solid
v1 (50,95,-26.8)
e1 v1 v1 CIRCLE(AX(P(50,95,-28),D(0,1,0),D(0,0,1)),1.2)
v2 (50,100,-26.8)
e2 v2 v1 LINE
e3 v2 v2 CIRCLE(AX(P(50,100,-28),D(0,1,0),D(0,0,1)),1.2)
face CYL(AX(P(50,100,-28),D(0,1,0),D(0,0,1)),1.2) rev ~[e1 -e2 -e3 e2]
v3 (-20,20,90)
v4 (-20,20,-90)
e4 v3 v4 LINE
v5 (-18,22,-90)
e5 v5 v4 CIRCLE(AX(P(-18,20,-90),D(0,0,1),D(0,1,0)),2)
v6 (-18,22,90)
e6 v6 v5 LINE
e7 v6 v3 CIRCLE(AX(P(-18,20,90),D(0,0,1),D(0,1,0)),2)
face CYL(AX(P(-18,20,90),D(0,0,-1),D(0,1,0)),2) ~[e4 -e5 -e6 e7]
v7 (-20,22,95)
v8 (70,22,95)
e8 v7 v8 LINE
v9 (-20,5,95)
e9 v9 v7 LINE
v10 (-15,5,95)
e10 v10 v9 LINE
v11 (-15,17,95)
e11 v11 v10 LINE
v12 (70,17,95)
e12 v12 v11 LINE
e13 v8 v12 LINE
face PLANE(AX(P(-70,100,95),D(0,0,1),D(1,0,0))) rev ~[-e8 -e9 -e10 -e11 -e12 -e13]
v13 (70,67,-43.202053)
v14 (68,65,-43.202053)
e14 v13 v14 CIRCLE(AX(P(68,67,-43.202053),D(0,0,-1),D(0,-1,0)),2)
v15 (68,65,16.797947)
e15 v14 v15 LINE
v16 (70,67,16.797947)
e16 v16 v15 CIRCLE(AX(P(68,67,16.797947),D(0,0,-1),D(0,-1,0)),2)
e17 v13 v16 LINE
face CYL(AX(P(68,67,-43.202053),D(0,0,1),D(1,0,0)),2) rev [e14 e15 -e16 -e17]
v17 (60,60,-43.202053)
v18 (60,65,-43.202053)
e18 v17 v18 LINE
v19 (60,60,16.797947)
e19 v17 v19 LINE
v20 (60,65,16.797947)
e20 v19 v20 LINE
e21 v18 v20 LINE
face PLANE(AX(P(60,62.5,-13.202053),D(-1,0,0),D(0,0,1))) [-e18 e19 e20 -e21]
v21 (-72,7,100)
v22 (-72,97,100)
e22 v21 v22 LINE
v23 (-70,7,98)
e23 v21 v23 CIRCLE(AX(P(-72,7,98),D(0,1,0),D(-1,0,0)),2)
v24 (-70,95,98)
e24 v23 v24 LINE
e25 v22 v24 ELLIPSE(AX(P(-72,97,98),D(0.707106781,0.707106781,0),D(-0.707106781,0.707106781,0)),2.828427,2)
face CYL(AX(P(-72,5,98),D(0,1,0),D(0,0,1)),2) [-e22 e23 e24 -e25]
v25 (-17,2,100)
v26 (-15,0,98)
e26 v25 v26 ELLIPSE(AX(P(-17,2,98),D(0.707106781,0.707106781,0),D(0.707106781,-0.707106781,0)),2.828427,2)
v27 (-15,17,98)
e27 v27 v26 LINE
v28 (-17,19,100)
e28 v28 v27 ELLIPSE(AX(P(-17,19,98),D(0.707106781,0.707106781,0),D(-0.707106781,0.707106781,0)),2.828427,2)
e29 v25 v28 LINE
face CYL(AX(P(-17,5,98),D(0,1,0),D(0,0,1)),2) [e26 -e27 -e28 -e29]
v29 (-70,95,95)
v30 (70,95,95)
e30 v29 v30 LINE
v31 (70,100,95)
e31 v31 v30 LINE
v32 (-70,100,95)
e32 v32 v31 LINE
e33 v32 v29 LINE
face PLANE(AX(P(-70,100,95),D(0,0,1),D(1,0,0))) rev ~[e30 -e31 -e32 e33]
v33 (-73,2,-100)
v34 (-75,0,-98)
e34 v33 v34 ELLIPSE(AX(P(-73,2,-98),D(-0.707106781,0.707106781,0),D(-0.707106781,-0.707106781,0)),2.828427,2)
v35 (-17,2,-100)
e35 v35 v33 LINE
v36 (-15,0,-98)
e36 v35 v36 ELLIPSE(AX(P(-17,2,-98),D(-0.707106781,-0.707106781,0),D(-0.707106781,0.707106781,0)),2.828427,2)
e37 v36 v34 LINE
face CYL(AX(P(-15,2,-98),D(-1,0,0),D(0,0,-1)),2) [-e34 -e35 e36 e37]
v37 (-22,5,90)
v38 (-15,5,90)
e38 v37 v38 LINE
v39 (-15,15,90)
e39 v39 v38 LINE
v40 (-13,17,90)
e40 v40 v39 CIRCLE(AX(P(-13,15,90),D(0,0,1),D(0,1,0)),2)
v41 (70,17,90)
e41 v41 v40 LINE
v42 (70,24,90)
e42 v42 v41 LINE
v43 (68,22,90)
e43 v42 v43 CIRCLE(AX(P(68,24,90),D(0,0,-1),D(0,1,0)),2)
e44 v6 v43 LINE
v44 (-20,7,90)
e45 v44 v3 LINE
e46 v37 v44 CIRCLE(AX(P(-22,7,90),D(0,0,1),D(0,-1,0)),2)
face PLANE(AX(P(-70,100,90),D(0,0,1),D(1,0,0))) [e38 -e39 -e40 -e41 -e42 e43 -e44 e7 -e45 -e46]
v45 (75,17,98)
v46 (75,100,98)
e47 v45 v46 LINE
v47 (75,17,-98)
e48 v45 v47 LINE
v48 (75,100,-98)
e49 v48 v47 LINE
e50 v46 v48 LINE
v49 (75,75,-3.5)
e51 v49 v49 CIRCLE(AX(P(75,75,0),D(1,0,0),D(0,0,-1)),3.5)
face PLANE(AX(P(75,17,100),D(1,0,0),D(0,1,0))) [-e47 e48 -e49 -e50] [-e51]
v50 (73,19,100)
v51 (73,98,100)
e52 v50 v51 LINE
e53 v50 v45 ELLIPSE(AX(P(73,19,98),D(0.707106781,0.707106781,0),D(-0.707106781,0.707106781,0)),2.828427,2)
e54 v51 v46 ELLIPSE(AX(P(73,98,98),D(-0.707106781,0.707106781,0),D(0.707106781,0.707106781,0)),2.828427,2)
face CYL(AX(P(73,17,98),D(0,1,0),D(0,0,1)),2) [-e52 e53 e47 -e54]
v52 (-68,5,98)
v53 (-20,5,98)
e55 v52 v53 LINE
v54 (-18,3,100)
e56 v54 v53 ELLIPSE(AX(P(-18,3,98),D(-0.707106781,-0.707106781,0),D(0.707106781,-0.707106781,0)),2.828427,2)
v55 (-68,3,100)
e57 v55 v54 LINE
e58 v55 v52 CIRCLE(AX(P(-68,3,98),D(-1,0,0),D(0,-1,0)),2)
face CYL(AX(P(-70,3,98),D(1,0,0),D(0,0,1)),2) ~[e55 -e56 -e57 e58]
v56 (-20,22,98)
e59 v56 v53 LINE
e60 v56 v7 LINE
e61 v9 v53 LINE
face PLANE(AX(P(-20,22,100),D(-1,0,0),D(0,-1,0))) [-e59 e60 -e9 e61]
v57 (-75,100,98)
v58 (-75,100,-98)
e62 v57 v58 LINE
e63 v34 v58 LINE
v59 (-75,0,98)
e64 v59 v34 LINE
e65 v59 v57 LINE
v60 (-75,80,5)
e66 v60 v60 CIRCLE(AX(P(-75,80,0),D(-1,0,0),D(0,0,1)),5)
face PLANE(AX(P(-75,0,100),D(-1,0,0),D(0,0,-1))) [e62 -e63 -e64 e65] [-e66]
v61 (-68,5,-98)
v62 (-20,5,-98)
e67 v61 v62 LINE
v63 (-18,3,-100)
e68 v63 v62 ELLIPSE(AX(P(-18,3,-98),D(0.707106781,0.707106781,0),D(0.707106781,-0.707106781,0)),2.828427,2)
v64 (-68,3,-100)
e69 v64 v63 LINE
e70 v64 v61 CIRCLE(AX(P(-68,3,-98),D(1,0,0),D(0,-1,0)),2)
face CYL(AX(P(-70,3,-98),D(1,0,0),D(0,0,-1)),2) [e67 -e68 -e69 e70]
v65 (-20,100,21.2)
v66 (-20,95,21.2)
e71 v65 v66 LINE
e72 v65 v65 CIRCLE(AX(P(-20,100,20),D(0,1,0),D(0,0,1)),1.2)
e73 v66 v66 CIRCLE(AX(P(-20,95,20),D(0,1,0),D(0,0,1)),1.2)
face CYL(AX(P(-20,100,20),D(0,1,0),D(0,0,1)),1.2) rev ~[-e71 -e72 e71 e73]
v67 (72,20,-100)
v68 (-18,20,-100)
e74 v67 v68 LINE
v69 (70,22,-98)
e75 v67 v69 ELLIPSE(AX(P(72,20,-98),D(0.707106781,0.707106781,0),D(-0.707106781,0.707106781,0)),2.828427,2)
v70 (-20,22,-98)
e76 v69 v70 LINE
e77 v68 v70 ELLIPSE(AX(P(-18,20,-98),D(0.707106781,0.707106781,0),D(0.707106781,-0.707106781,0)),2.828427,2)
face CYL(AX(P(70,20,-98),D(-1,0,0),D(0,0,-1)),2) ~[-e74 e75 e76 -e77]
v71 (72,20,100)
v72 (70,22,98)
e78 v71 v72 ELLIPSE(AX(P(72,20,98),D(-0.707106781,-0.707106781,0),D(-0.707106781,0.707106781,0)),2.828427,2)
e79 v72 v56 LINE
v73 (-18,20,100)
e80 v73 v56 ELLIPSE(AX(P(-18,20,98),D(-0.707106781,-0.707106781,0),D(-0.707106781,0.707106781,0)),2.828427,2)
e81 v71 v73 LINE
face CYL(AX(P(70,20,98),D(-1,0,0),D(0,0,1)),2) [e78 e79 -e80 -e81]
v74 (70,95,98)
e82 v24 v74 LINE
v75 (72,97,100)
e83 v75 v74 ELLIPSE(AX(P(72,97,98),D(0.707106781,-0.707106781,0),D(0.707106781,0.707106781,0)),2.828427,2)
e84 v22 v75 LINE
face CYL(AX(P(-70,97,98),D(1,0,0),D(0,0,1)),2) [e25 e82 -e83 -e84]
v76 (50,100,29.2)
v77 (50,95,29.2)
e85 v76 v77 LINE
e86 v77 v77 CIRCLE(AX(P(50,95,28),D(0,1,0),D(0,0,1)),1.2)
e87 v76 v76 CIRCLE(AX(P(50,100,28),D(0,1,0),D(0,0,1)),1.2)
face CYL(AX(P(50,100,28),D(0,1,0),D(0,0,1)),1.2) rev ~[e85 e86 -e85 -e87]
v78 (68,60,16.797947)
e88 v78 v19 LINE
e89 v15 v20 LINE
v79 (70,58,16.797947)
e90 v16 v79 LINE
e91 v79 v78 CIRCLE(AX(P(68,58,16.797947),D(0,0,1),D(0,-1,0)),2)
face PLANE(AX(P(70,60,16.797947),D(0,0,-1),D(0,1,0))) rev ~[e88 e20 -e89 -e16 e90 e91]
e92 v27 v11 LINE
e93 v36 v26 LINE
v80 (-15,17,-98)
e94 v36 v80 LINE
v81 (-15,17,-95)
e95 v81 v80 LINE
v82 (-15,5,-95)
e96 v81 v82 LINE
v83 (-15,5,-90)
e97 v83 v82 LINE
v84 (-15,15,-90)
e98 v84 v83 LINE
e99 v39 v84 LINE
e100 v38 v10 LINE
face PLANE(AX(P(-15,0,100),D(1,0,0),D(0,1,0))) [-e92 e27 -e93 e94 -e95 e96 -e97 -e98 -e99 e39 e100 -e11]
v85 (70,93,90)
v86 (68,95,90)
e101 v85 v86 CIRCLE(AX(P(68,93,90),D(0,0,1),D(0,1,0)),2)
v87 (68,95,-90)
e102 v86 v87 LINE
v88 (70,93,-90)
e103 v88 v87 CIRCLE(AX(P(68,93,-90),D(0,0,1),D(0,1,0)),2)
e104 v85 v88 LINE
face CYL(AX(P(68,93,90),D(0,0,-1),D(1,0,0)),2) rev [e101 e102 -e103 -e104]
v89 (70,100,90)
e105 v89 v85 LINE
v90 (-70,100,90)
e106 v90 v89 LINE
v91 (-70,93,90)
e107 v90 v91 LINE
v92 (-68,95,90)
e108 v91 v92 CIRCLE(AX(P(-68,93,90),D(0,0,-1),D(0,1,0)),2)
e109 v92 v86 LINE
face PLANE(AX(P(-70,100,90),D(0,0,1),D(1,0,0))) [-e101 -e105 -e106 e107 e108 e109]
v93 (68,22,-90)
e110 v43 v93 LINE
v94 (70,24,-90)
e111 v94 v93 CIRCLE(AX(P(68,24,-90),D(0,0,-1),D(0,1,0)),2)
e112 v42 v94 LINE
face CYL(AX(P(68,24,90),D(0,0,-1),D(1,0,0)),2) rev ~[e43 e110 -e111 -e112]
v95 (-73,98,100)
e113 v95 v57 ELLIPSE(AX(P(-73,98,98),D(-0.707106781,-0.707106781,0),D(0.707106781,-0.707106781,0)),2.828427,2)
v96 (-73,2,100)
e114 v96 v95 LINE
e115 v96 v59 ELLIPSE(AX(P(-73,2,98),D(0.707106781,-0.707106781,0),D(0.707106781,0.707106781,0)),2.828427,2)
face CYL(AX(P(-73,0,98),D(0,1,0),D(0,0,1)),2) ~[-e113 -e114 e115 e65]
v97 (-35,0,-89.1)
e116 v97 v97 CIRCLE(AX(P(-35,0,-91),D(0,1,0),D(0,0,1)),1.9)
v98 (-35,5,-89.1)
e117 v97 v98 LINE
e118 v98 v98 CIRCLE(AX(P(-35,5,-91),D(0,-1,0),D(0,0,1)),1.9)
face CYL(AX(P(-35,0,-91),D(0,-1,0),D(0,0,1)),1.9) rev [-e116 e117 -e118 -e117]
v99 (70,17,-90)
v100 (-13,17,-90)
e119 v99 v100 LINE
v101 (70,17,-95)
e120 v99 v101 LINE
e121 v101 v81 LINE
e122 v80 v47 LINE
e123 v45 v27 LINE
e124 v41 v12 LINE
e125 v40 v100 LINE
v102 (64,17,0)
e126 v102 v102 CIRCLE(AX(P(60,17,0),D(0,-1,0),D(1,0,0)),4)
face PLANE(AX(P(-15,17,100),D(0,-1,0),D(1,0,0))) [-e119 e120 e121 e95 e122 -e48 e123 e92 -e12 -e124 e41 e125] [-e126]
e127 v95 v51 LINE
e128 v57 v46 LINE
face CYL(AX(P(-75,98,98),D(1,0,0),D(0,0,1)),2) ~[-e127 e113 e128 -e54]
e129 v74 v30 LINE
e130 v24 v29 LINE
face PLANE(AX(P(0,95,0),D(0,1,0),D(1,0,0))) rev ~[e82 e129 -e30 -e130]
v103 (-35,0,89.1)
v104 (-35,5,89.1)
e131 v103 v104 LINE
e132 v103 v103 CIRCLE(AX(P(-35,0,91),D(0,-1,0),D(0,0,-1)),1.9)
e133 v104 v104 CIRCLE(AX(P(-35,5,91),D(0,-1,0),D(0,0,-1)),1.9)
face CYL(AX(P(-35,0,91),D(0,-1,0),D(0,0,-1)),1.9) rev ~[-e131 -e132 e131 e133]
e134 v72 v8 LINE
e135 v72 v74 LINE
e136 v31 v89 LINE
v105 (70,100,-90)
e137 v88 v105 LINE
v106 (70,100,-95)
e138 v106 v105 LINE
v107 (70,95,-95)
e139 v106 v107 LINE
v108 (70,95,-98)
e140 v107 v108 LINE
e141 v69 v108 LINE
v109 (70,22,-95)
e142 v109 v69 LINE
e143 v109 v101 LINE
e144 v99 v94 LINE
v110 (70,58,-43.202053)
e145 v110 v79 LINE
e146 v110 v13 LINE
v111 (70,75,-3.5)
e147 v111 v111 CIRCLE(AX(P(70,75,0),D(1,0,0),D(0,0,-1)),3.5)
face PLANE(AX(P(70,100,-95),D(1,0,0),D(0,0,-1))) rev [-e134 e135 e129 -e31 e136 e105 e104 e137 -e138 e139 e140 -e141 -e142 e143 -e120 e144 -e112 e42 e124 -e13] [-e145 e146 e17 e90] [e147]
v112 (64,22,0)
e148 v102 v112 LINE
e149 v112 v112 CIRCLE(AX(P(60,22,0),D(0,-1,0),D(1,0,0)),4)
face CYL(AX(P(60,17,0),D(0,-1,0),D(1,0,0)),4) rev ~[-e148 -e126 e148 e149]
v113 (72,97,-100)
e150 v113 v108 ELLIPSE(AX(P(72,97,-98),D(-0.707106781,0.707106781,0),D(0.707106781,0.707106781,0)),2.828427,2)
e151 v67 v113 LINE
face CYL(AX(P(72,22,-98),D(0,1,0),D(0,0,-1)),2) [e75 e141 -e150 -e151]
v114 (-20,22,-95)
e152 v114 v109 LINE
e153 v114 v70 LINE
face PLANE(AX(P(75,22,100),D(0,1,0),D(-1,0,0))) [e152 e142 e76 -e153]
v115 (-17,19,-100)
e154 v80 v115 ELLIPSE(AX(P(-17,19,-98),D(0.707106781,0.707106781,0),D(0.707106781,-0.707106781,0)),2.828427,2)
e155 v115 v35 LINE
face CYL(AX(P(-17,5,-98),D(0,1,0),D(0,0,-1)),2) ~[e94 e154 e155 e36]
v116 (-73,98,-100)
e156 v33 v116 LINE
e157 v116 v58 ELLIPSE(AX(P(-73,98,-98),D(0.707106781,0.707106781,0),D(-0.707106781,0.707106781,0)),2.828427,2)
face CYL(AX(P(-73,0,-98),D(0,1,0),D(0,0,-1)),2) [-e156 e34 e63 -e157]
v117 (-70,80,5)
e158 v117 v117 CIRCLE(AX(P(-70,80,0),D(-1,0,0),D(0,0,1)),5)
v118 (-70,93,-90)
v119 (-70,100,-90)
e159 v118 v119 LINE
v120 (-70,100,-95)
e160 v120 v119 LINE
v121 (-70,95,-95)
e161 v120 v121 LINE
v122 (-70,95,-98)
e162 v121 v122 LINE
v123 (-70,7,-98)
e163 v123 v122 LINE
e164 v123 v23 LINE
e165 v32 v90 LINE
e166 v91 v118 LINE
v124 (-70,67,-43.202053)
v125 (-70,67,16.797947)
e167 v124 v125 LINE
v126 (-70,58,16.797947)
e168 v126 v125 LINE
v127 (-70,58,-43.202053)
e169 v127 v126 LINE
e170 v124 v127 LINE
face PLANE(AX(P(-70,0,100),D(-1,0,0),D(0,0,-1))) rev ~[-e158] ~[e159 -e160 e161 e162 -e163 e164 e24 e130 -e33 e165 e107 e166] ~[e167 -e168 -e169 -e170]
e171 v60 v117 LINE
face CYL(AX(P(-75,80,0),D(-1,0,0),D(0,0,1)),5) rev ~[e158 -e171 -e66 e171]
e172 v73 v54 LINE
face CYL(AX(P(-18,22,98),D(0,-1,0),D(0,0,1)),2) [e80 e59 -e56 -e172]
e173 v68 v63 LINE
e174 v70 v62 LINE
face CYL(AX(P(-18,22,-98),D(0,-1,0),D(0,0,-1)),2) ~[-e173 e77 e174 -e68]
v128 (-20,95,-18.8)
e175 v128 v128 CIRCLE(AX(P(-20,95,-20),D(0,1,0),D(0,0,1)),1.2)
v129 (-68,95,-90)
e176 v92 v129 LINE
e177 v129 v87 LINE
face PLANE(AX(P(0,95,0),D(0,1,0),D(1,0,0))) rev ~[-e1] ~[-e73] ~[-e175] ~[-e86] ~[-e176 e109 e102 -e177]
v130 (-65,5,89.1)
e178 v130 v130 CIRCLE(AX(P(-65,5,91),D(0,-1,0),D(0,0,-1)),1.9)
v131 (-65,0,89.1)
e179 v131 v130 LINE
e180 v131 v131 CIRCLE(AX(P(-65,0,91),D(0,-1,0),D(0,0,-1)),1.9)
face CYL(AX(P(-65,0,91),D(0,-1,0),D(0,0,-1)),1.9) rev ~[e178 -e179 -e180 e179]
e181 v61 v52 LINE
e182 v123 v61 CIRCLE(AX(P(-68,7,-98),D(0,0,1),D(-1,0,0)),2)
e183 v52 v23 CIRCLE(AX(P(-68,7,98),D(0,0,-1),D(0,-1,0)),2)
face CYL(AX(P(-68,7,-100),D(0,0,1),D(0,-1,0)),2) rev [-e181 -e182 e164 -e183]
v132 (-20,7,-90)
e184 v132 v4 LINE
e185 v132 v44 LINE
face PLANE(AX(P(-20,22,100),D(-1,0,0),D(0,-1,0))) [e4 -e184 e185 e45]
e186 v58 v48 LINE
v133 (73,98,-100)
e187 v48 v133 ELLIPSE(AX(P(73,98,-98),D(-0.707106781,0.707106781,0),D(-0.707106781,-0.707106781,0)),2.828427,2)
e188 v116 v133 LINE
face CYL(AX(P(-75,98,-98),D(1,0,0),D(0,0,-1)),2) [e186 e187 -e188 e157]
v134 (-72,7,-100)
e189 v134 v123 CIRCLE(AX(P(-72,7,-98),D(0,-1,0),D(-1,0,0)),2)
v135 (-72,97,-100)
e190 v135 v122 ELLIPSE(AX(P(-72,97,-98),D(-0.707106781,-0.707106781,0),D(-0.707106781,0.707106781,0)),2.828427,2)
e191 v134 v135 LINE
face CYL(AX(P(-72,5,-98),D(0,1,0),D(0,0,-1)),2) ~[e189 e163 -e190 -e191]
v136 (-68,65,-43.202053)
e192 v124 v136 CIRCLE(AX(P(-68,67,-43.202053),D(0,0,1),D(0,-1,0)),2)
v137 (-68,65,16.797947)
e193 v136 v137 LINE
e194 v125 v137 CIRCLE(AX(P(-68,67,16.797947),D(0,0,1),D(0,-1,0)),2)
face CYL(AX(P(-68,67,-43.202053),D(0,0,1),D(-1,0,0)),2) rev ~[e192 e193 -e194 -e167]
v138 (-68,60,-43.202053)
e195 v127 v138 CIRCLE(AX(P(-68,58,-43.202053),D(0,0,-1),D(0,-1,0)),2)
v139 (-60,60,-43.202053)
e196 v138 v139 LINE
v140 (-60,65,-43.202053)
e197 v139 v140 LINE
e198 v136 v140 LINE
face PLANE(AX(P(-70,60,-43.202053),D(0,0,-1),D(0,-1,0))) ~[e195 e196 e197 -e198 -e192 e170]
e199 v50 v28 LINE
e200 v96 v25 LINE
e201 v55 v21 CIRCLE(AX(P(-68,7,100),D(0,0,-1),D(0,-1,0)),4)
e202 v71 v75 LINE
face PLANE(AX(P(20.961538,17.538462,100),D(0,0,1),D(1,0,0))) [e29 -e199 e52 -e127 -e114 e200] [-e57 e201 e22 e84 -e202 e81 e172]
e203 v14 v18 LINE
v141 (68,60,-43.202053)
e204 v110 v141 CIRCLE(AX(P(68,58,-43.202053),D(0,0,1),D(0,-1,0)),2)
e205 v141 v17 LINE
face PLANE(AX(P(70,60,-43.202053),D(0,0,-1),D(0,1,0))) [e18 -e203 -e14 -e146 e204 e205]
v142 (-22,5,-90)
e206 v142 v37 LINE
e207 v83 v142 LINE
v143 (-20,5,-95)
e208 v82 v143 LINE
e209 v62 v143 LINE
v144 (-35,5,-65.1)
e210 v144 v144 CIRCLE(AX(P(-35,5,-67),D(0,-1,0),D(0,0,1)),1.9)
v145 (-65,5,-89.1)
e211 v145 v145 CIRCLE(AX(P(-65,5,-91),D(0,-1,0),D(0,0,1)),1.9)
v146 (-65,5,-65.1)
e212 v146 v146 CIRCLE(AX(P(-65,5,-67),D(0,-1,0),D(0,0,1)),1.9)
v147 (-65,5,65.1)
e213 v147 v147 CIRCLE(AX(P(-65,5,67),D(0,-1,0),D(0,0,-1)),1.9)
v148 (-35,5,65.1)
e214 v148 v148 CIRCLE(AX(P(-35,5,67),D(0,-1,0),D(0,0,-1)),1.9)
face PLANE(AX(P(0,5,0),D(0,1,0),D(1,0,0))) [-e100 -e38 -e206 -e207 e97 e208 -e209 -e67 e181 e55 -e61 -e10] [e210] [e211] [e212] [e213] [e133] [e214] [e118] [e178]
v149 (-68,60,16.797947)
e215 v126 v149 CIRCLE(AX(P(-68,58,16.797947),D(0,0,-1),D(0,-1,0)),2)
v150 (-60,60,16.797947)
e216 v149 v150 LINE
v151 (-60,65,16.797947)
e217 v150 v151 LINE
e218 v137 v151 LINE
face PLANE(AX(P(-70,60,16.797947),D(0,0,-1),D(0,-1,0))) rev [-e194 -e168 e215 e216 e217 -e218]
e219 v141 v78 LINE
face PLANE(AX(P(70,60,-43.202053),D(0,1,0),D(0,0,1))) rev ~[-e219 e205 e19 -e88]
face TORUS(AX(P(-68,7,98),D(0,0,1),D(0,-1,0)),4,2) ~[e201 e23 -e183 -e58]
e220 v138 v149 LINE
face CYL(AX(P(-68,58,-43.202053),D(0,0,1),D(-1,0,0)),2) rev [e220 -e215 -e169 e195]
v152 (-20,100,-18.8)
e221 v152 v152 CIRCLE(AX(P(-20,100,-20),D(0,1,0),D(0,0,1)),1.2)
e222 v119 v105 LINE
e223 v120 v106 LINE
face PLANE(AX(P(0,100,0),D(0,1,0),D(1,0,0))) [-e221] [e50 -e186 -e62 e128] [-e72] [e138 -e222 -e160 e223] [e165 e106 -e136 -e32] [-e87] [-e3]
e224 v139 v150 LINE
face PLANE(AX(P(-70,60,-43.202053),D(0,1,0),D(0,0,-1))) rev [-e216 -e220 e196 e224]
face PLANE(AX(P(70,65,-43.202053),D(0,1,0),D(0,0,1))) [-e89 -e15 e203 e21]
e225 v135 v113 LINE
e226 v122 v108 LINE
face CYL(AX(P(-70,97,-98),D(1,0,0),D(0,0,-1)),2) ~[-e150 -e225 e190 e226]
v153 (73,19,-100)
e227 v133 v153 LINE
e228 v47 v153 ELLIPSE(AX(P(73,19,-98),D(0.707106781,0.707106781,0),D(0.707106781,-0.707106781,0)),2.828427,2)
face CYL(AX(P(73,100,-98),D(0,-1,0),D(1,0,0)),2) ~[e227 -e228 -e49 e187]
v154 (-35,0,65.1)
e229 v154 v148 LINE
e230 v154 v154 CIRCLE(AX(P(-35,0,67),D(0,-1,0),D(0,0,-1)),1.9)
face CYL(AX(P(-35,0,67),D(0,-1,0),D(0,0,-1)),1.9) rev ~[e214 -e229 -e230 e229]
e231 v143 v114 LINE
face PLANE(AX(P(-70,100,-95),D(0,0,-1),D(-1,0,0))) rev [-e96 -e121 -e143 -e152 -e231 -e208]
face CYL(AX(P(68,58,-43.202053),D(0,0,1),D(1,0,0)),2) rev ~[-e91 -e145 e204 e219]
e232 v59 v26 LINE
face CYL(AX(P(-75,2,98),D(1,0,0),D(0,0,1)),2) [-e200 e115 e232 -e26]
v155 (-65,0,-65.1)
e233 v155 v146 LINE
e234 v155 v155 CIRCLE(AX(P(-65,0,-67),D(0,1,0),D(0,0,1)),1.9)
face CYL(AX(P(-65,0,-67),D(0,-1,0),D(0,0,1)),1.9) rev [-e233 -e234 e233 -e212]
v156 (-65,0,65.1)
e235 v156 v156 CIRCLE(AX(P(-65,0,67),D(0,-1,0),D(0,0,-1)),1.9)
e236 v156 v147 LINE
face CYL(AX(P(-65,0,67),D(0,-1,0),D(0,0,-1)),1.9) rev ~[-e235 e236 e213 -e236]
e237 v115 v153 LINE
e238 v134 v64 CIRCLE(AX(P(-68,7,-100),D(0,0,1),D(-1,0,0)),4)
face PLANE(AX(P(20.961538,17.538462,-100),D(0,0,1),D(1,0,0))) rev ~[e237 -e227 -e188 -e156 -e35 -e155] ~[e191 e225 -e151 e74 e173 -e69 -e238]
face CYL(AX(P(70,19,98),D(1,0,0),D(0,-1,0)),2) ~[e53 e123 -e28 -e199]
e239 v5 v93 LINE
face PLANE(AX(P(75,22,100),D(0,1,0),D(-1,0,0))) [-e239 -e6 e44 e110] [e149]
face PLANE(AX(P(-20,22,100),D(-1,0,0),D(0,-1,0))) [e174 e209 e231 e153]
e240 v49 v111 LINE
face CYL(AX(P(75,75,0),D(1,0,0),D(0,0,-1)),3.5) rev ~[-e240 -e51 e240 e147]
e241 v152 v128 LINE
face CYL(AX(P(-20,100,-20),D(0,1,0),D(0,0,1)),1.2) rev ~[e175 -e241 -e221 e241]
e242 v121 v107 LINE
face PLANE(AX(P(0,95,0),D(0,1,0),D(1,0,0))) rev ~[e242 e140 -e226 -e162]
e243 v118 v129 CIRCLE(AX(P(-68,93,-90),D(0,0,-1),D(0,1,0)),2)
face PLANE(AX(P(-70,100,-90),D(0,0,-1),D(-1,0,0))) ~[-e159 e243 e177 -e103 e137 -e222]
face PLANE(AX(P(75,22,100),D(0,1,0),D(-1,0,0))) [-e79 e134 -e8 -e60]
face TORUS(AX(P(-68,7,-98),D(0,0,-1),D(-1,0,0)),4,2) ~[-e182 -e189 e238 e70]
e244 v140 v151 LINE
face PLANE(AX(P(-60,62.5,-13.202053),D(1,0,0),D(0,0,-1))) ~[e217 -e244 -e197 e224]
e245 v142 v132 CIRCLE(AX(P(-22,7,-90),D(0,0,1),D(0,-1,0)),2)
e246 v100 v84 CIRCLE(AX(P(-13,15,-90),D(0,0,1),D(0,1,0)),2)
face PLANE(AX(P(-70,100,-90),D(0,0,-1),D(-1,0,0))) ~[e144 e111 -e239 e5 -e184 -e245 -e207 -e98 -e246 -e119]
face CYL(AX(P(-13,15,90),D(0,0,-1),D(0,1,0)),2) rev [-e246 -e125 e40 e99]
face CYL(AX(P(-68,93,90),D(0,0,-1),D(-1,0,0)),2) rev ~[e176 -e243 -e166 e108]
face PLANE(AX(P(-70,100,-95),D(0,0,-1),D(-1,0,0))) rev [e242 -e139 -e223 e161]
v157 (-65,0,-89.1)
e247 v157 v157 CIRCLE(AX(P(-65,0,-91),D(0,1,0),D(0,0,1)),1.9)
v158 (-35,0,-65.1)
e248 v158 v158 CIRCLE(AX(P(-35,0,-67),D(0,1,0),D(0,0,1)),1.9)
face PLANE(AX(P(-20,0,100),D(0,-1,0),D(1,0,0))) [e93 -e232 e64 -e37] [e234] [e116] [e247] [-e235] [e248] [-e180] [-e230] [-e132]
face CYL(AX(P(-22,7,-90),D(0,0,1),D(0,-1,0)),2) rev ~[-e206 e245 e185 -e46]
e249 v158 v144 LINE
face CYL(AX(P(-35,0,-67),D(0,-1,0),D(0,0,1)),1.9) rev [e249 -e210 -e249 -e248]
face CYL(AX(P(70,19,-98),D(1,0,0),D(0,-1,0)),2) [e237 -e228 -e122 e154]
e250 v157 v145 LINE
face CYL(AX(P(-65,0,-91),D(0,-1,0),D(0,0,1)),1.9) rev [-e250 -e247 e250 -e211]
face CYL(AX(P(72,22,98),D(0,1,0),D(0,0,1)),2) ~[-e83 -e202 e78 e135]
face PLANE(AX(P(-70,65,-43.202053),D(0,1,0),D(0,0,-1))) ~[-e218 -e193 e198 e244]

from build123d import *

# Parameters (mm, degrees)
SKETCH1_W           = 150
SKETCH1_H           = 200
BOSS_EXTRUDE1_DEPTH = 100
SHELL2_T            = -5
SKETCH5_R           = 1.9
CUT_EXTRUDE2_DEPTH  = 10
BOSS_EXTRUDE4_DEPTH = 200
SKETCH9_W           = 101.133931545
SKETCH9_H           = 31.996148617
CUT_EXTRUDE4_DEPTH  = 236.849528301
SKETCH10_R          = 4
CUT_EXTRUDE5_DEPTH  = 10
CUT_EXTRUDE7_REACH  = 162.078
SKETCH11_W          = 140
SKETCH11_H          = 5
SKETCH15_R          = 1.2
CUT_EXTRUDE11_DEPTH = 10
SKETCH36_W          = 60
SKETCH36_H          = 5
BOSS_EXTRUDE7_DEPTH = 10
FILLET1_R           = 2
SKETCH37_R          = 3.5
CUT_EXTRUDE15_DEPTH = 60
SKETCH38_R          = 5
CUT_EXTRUDE16_DEPTH = 70


with BuildPart() as part:
    # Sketch1 → Boss-Extrude1 (new body)
    with BuildSketch(Plane(origin=(0, 0, 0), x_dir=(1, 0, 0), z_dir=(0, 1, 0))):
        Rectangle(SKETCH1_W, SKETCH1_H)
    extrude(amount=BOSS_EXTRUDE1_DEPTH)

    # Shell2
    shell2_openings = [part.faces().sort_by_distance(p)[0] for p in [
        (0, 50, -100),
        (0, 50, 100),
    ]]
    offset(amount=SHELL2_T, openings=shell2_openings, kind=Kind.INTERSECTION)

    # Sketch5 → Cut-Extrude2 (cut)
    with BuildSketch(Plane.XZ):
        with Locations(Location((-65, 91, 0), (0, 0, 270))):
            Circle(SKETCH5_R)
        with Locations(Location((-35, 91, 0), (0, 0, 270))):
            Circle(SKETCH5_R)
        with Locations(Location((-65, 67, 0), (0, 0, 270))):
            Circle(SKETCH5_R)
        with Locations(Location((-35, 67, 0), (0, 0, 270))):
            Circle(SKETCH5_R)
    cut_extrude2 = extrude(amount=-CUT_EXTRUDE2_DEPTH, mode=Mode.SUBTRACT)

    # Mirror2: Cut-Extrude2 across plane
    add(cut_extrude2.mirror(Plane.XY), mode=Mode.SUBTRACT)

    # Sketch8 → Boss-Extrude4 (add, through all)
    with BuildSketch(Plane.XY.offset(100)):
        Polygon((-15, 17), (75, 17), (75, 22), (-20, 22), (-20, 0), (-15, 0), align=None)
    extrude(amount=-BOSS_EXTRUDE4_DEPTH)

    # Sketch9 → Cut-Extrude4 (cut, through all)
    with BuildSketch(Plane.XY.offset(100)):
        with Locations((35.566965773, 1.001925691)):
            Rectangle(SKETCH9_W, SKETCH9_H)
    extrude(amount=-CUT_EXTRUDE4_DEPTH, mode=Mode.SUBTRACT)

    # Sketch10 → Cut-Extrude5 (cut)
    with BuildSketch(Plane.XZ.offset(-17)):
        with Locations((60, 0)):
            Circle(SKETCH10_R)
    extrude(amount=-CUT_EXTRUDE5_DEPTH, mode=Mode.SUBTRACT)

    # Cut-Extrude7: up to this face of the body (flat: up to its plane)
    cut_extrude7_end = Plane(part.part.faces().sort_by_distance((-44.954220044, 5, 0))[0])
    # Sketch11 → Cut-Extrude7 (cut, up to the picked face)
    with BuildSketch(Plane(origin=(0, 100, 0), x_dir=(1, 0, 0), z_dir=(0, 1, 0)), mode=Mode.PRIVATE) as cut_extrude7_sk1:
        with Locations((0, -92.5)):
            Rectangle(SKETCH11_W, SKETCH11_H)
    cut_extrude7_tool1 = split(extrude(cut_extrude7_sk1.sketch, amount=-CUT_EXTRUDE7_REACH, mode=Mode.PRIVATE), bisect_by=cut_extrude7_end, keep=Keep.BOTH, mode=Mode.PRIVATE)
    cut_extrude7 = cut_extrude7_tool1.solids().sort_by(Axis((0, 100, 92.5), (0, -1, 0)))[0]
    add(cut_extrude7, mode=Mode.SUBTRACT)

    # Mirror3: Cut-Extrude7 across plane
    add(cut_extrude7.mirror(Plane.XY), mode=Mode.SUBTRACT)

    # Sketch15 → Cut-Extrude11 (cut)
    with BuildSketch(Plane(origin=(0, 100, 0), x_dir=(1, 0, 0), z_dir=(0, 1, 0))):
        with Locations(Location((50, 28, 0), (0, 0, 270))):
            Circle(SKETCH15_R)
        with Locations(Location((50, -28, 0), (0, 0, 270))):
            Circle(SKETCH15_R)
        with Locations(Location((-20, 20, 0), (0, 0, 270))):
            Circle(SKETCH15_R)
        with Locations(Location((-20, -20, 0), (0, 0, 270))):
            Circle(SKETCH15_R)
    extrude(amount=-CUT_EXTRUDE11_DEPTH, mode=Mode.SUBTRACT)

    # Sketch36 → Boss-Extrude7 (add)
    with BuildSketch(Plane.ZY.offset(-70)):
        with Locations((-13.202053215, 62.5)):
            Rectangle(SKETCH36_W, SKETCH36_H)
    boss_extrude7 = extrude(amount=BOSS_EXTRUDE7_DEPTH)

    # Mirror5: Boss-Extrude7 across plane
    add(boss_extrude7.mirror(Plane(origin=(0, 0, 0), x_dir=(0, 0, 1), z_dir=(1, 0, 0))))

    # Fillet1
    fillet1_edges = [part.edges().sort_by_distance(p)[0] for p in [
        (-45, 0, -100),
        (-20, 5, 0),
        (70, 22, 0),
        (70, 95, 0),
        (0, 100, 100),
        (70, 58.5, 100),
        (70, 58.5, -100),
        (-70, 5, 0),
        (-70, 50, -100),
        (-45, 5, 100),
        (-70, 50, 100),
        (0, 95, -100),
        (0, 95, 100),
        (-20, 22, 0),
        (-70, 95, 0),
        (-15, 17, 0),
        (70, 60, -13.202053215),
        (70, 65, -13.202053215),
        (-70, 60, -13.202053215),
        (-70, 65, -13.202053215),
        (-45, 0, 100),
        (-45, 5, -100),
        (75, 58.5, 100),
        (-75, 50, 100),
        (-75, 50, -100),
        (75, 58.5, -100),
        (-15, 8.5, 100),
        (25, 22, 100),
        (-20, 13.5, -100),
        (30, 17, -100),
        (25, 22, -100),
        (-20, 13.5, 100),
        (-15, 8.5, -100),
        (30, 17, 100),
        (0, 100, -100),
    ]]
    fillet(fillet1_edges, radius=FILLET1_R)

    # Sketch37 → Cut-Extrude15 (cut)
    with BuildSketch(Plane(origin=(75, 0, 0), x_dir=(0, 0, -1), z_dir=(1, 0, 0))):
        with Locations((0, 75)):
            Circle(SKETCH37_R)
    extrude(amount=-CUT_EXTRUDE15_DEPTH, mode=Mode.SUBTRACT)

    # Sketch38 → Cut-Extrude16 (cut)
    with BuildSketch(Plane.ZY.offset(75)):
        with Locations((0, 80)):
            Circle(SKETCH38_R)
    extrude(amount=-CUT_EXTRUDE16_DEPTH, mode=Mode.SUBTRACT)


solid = part.part
